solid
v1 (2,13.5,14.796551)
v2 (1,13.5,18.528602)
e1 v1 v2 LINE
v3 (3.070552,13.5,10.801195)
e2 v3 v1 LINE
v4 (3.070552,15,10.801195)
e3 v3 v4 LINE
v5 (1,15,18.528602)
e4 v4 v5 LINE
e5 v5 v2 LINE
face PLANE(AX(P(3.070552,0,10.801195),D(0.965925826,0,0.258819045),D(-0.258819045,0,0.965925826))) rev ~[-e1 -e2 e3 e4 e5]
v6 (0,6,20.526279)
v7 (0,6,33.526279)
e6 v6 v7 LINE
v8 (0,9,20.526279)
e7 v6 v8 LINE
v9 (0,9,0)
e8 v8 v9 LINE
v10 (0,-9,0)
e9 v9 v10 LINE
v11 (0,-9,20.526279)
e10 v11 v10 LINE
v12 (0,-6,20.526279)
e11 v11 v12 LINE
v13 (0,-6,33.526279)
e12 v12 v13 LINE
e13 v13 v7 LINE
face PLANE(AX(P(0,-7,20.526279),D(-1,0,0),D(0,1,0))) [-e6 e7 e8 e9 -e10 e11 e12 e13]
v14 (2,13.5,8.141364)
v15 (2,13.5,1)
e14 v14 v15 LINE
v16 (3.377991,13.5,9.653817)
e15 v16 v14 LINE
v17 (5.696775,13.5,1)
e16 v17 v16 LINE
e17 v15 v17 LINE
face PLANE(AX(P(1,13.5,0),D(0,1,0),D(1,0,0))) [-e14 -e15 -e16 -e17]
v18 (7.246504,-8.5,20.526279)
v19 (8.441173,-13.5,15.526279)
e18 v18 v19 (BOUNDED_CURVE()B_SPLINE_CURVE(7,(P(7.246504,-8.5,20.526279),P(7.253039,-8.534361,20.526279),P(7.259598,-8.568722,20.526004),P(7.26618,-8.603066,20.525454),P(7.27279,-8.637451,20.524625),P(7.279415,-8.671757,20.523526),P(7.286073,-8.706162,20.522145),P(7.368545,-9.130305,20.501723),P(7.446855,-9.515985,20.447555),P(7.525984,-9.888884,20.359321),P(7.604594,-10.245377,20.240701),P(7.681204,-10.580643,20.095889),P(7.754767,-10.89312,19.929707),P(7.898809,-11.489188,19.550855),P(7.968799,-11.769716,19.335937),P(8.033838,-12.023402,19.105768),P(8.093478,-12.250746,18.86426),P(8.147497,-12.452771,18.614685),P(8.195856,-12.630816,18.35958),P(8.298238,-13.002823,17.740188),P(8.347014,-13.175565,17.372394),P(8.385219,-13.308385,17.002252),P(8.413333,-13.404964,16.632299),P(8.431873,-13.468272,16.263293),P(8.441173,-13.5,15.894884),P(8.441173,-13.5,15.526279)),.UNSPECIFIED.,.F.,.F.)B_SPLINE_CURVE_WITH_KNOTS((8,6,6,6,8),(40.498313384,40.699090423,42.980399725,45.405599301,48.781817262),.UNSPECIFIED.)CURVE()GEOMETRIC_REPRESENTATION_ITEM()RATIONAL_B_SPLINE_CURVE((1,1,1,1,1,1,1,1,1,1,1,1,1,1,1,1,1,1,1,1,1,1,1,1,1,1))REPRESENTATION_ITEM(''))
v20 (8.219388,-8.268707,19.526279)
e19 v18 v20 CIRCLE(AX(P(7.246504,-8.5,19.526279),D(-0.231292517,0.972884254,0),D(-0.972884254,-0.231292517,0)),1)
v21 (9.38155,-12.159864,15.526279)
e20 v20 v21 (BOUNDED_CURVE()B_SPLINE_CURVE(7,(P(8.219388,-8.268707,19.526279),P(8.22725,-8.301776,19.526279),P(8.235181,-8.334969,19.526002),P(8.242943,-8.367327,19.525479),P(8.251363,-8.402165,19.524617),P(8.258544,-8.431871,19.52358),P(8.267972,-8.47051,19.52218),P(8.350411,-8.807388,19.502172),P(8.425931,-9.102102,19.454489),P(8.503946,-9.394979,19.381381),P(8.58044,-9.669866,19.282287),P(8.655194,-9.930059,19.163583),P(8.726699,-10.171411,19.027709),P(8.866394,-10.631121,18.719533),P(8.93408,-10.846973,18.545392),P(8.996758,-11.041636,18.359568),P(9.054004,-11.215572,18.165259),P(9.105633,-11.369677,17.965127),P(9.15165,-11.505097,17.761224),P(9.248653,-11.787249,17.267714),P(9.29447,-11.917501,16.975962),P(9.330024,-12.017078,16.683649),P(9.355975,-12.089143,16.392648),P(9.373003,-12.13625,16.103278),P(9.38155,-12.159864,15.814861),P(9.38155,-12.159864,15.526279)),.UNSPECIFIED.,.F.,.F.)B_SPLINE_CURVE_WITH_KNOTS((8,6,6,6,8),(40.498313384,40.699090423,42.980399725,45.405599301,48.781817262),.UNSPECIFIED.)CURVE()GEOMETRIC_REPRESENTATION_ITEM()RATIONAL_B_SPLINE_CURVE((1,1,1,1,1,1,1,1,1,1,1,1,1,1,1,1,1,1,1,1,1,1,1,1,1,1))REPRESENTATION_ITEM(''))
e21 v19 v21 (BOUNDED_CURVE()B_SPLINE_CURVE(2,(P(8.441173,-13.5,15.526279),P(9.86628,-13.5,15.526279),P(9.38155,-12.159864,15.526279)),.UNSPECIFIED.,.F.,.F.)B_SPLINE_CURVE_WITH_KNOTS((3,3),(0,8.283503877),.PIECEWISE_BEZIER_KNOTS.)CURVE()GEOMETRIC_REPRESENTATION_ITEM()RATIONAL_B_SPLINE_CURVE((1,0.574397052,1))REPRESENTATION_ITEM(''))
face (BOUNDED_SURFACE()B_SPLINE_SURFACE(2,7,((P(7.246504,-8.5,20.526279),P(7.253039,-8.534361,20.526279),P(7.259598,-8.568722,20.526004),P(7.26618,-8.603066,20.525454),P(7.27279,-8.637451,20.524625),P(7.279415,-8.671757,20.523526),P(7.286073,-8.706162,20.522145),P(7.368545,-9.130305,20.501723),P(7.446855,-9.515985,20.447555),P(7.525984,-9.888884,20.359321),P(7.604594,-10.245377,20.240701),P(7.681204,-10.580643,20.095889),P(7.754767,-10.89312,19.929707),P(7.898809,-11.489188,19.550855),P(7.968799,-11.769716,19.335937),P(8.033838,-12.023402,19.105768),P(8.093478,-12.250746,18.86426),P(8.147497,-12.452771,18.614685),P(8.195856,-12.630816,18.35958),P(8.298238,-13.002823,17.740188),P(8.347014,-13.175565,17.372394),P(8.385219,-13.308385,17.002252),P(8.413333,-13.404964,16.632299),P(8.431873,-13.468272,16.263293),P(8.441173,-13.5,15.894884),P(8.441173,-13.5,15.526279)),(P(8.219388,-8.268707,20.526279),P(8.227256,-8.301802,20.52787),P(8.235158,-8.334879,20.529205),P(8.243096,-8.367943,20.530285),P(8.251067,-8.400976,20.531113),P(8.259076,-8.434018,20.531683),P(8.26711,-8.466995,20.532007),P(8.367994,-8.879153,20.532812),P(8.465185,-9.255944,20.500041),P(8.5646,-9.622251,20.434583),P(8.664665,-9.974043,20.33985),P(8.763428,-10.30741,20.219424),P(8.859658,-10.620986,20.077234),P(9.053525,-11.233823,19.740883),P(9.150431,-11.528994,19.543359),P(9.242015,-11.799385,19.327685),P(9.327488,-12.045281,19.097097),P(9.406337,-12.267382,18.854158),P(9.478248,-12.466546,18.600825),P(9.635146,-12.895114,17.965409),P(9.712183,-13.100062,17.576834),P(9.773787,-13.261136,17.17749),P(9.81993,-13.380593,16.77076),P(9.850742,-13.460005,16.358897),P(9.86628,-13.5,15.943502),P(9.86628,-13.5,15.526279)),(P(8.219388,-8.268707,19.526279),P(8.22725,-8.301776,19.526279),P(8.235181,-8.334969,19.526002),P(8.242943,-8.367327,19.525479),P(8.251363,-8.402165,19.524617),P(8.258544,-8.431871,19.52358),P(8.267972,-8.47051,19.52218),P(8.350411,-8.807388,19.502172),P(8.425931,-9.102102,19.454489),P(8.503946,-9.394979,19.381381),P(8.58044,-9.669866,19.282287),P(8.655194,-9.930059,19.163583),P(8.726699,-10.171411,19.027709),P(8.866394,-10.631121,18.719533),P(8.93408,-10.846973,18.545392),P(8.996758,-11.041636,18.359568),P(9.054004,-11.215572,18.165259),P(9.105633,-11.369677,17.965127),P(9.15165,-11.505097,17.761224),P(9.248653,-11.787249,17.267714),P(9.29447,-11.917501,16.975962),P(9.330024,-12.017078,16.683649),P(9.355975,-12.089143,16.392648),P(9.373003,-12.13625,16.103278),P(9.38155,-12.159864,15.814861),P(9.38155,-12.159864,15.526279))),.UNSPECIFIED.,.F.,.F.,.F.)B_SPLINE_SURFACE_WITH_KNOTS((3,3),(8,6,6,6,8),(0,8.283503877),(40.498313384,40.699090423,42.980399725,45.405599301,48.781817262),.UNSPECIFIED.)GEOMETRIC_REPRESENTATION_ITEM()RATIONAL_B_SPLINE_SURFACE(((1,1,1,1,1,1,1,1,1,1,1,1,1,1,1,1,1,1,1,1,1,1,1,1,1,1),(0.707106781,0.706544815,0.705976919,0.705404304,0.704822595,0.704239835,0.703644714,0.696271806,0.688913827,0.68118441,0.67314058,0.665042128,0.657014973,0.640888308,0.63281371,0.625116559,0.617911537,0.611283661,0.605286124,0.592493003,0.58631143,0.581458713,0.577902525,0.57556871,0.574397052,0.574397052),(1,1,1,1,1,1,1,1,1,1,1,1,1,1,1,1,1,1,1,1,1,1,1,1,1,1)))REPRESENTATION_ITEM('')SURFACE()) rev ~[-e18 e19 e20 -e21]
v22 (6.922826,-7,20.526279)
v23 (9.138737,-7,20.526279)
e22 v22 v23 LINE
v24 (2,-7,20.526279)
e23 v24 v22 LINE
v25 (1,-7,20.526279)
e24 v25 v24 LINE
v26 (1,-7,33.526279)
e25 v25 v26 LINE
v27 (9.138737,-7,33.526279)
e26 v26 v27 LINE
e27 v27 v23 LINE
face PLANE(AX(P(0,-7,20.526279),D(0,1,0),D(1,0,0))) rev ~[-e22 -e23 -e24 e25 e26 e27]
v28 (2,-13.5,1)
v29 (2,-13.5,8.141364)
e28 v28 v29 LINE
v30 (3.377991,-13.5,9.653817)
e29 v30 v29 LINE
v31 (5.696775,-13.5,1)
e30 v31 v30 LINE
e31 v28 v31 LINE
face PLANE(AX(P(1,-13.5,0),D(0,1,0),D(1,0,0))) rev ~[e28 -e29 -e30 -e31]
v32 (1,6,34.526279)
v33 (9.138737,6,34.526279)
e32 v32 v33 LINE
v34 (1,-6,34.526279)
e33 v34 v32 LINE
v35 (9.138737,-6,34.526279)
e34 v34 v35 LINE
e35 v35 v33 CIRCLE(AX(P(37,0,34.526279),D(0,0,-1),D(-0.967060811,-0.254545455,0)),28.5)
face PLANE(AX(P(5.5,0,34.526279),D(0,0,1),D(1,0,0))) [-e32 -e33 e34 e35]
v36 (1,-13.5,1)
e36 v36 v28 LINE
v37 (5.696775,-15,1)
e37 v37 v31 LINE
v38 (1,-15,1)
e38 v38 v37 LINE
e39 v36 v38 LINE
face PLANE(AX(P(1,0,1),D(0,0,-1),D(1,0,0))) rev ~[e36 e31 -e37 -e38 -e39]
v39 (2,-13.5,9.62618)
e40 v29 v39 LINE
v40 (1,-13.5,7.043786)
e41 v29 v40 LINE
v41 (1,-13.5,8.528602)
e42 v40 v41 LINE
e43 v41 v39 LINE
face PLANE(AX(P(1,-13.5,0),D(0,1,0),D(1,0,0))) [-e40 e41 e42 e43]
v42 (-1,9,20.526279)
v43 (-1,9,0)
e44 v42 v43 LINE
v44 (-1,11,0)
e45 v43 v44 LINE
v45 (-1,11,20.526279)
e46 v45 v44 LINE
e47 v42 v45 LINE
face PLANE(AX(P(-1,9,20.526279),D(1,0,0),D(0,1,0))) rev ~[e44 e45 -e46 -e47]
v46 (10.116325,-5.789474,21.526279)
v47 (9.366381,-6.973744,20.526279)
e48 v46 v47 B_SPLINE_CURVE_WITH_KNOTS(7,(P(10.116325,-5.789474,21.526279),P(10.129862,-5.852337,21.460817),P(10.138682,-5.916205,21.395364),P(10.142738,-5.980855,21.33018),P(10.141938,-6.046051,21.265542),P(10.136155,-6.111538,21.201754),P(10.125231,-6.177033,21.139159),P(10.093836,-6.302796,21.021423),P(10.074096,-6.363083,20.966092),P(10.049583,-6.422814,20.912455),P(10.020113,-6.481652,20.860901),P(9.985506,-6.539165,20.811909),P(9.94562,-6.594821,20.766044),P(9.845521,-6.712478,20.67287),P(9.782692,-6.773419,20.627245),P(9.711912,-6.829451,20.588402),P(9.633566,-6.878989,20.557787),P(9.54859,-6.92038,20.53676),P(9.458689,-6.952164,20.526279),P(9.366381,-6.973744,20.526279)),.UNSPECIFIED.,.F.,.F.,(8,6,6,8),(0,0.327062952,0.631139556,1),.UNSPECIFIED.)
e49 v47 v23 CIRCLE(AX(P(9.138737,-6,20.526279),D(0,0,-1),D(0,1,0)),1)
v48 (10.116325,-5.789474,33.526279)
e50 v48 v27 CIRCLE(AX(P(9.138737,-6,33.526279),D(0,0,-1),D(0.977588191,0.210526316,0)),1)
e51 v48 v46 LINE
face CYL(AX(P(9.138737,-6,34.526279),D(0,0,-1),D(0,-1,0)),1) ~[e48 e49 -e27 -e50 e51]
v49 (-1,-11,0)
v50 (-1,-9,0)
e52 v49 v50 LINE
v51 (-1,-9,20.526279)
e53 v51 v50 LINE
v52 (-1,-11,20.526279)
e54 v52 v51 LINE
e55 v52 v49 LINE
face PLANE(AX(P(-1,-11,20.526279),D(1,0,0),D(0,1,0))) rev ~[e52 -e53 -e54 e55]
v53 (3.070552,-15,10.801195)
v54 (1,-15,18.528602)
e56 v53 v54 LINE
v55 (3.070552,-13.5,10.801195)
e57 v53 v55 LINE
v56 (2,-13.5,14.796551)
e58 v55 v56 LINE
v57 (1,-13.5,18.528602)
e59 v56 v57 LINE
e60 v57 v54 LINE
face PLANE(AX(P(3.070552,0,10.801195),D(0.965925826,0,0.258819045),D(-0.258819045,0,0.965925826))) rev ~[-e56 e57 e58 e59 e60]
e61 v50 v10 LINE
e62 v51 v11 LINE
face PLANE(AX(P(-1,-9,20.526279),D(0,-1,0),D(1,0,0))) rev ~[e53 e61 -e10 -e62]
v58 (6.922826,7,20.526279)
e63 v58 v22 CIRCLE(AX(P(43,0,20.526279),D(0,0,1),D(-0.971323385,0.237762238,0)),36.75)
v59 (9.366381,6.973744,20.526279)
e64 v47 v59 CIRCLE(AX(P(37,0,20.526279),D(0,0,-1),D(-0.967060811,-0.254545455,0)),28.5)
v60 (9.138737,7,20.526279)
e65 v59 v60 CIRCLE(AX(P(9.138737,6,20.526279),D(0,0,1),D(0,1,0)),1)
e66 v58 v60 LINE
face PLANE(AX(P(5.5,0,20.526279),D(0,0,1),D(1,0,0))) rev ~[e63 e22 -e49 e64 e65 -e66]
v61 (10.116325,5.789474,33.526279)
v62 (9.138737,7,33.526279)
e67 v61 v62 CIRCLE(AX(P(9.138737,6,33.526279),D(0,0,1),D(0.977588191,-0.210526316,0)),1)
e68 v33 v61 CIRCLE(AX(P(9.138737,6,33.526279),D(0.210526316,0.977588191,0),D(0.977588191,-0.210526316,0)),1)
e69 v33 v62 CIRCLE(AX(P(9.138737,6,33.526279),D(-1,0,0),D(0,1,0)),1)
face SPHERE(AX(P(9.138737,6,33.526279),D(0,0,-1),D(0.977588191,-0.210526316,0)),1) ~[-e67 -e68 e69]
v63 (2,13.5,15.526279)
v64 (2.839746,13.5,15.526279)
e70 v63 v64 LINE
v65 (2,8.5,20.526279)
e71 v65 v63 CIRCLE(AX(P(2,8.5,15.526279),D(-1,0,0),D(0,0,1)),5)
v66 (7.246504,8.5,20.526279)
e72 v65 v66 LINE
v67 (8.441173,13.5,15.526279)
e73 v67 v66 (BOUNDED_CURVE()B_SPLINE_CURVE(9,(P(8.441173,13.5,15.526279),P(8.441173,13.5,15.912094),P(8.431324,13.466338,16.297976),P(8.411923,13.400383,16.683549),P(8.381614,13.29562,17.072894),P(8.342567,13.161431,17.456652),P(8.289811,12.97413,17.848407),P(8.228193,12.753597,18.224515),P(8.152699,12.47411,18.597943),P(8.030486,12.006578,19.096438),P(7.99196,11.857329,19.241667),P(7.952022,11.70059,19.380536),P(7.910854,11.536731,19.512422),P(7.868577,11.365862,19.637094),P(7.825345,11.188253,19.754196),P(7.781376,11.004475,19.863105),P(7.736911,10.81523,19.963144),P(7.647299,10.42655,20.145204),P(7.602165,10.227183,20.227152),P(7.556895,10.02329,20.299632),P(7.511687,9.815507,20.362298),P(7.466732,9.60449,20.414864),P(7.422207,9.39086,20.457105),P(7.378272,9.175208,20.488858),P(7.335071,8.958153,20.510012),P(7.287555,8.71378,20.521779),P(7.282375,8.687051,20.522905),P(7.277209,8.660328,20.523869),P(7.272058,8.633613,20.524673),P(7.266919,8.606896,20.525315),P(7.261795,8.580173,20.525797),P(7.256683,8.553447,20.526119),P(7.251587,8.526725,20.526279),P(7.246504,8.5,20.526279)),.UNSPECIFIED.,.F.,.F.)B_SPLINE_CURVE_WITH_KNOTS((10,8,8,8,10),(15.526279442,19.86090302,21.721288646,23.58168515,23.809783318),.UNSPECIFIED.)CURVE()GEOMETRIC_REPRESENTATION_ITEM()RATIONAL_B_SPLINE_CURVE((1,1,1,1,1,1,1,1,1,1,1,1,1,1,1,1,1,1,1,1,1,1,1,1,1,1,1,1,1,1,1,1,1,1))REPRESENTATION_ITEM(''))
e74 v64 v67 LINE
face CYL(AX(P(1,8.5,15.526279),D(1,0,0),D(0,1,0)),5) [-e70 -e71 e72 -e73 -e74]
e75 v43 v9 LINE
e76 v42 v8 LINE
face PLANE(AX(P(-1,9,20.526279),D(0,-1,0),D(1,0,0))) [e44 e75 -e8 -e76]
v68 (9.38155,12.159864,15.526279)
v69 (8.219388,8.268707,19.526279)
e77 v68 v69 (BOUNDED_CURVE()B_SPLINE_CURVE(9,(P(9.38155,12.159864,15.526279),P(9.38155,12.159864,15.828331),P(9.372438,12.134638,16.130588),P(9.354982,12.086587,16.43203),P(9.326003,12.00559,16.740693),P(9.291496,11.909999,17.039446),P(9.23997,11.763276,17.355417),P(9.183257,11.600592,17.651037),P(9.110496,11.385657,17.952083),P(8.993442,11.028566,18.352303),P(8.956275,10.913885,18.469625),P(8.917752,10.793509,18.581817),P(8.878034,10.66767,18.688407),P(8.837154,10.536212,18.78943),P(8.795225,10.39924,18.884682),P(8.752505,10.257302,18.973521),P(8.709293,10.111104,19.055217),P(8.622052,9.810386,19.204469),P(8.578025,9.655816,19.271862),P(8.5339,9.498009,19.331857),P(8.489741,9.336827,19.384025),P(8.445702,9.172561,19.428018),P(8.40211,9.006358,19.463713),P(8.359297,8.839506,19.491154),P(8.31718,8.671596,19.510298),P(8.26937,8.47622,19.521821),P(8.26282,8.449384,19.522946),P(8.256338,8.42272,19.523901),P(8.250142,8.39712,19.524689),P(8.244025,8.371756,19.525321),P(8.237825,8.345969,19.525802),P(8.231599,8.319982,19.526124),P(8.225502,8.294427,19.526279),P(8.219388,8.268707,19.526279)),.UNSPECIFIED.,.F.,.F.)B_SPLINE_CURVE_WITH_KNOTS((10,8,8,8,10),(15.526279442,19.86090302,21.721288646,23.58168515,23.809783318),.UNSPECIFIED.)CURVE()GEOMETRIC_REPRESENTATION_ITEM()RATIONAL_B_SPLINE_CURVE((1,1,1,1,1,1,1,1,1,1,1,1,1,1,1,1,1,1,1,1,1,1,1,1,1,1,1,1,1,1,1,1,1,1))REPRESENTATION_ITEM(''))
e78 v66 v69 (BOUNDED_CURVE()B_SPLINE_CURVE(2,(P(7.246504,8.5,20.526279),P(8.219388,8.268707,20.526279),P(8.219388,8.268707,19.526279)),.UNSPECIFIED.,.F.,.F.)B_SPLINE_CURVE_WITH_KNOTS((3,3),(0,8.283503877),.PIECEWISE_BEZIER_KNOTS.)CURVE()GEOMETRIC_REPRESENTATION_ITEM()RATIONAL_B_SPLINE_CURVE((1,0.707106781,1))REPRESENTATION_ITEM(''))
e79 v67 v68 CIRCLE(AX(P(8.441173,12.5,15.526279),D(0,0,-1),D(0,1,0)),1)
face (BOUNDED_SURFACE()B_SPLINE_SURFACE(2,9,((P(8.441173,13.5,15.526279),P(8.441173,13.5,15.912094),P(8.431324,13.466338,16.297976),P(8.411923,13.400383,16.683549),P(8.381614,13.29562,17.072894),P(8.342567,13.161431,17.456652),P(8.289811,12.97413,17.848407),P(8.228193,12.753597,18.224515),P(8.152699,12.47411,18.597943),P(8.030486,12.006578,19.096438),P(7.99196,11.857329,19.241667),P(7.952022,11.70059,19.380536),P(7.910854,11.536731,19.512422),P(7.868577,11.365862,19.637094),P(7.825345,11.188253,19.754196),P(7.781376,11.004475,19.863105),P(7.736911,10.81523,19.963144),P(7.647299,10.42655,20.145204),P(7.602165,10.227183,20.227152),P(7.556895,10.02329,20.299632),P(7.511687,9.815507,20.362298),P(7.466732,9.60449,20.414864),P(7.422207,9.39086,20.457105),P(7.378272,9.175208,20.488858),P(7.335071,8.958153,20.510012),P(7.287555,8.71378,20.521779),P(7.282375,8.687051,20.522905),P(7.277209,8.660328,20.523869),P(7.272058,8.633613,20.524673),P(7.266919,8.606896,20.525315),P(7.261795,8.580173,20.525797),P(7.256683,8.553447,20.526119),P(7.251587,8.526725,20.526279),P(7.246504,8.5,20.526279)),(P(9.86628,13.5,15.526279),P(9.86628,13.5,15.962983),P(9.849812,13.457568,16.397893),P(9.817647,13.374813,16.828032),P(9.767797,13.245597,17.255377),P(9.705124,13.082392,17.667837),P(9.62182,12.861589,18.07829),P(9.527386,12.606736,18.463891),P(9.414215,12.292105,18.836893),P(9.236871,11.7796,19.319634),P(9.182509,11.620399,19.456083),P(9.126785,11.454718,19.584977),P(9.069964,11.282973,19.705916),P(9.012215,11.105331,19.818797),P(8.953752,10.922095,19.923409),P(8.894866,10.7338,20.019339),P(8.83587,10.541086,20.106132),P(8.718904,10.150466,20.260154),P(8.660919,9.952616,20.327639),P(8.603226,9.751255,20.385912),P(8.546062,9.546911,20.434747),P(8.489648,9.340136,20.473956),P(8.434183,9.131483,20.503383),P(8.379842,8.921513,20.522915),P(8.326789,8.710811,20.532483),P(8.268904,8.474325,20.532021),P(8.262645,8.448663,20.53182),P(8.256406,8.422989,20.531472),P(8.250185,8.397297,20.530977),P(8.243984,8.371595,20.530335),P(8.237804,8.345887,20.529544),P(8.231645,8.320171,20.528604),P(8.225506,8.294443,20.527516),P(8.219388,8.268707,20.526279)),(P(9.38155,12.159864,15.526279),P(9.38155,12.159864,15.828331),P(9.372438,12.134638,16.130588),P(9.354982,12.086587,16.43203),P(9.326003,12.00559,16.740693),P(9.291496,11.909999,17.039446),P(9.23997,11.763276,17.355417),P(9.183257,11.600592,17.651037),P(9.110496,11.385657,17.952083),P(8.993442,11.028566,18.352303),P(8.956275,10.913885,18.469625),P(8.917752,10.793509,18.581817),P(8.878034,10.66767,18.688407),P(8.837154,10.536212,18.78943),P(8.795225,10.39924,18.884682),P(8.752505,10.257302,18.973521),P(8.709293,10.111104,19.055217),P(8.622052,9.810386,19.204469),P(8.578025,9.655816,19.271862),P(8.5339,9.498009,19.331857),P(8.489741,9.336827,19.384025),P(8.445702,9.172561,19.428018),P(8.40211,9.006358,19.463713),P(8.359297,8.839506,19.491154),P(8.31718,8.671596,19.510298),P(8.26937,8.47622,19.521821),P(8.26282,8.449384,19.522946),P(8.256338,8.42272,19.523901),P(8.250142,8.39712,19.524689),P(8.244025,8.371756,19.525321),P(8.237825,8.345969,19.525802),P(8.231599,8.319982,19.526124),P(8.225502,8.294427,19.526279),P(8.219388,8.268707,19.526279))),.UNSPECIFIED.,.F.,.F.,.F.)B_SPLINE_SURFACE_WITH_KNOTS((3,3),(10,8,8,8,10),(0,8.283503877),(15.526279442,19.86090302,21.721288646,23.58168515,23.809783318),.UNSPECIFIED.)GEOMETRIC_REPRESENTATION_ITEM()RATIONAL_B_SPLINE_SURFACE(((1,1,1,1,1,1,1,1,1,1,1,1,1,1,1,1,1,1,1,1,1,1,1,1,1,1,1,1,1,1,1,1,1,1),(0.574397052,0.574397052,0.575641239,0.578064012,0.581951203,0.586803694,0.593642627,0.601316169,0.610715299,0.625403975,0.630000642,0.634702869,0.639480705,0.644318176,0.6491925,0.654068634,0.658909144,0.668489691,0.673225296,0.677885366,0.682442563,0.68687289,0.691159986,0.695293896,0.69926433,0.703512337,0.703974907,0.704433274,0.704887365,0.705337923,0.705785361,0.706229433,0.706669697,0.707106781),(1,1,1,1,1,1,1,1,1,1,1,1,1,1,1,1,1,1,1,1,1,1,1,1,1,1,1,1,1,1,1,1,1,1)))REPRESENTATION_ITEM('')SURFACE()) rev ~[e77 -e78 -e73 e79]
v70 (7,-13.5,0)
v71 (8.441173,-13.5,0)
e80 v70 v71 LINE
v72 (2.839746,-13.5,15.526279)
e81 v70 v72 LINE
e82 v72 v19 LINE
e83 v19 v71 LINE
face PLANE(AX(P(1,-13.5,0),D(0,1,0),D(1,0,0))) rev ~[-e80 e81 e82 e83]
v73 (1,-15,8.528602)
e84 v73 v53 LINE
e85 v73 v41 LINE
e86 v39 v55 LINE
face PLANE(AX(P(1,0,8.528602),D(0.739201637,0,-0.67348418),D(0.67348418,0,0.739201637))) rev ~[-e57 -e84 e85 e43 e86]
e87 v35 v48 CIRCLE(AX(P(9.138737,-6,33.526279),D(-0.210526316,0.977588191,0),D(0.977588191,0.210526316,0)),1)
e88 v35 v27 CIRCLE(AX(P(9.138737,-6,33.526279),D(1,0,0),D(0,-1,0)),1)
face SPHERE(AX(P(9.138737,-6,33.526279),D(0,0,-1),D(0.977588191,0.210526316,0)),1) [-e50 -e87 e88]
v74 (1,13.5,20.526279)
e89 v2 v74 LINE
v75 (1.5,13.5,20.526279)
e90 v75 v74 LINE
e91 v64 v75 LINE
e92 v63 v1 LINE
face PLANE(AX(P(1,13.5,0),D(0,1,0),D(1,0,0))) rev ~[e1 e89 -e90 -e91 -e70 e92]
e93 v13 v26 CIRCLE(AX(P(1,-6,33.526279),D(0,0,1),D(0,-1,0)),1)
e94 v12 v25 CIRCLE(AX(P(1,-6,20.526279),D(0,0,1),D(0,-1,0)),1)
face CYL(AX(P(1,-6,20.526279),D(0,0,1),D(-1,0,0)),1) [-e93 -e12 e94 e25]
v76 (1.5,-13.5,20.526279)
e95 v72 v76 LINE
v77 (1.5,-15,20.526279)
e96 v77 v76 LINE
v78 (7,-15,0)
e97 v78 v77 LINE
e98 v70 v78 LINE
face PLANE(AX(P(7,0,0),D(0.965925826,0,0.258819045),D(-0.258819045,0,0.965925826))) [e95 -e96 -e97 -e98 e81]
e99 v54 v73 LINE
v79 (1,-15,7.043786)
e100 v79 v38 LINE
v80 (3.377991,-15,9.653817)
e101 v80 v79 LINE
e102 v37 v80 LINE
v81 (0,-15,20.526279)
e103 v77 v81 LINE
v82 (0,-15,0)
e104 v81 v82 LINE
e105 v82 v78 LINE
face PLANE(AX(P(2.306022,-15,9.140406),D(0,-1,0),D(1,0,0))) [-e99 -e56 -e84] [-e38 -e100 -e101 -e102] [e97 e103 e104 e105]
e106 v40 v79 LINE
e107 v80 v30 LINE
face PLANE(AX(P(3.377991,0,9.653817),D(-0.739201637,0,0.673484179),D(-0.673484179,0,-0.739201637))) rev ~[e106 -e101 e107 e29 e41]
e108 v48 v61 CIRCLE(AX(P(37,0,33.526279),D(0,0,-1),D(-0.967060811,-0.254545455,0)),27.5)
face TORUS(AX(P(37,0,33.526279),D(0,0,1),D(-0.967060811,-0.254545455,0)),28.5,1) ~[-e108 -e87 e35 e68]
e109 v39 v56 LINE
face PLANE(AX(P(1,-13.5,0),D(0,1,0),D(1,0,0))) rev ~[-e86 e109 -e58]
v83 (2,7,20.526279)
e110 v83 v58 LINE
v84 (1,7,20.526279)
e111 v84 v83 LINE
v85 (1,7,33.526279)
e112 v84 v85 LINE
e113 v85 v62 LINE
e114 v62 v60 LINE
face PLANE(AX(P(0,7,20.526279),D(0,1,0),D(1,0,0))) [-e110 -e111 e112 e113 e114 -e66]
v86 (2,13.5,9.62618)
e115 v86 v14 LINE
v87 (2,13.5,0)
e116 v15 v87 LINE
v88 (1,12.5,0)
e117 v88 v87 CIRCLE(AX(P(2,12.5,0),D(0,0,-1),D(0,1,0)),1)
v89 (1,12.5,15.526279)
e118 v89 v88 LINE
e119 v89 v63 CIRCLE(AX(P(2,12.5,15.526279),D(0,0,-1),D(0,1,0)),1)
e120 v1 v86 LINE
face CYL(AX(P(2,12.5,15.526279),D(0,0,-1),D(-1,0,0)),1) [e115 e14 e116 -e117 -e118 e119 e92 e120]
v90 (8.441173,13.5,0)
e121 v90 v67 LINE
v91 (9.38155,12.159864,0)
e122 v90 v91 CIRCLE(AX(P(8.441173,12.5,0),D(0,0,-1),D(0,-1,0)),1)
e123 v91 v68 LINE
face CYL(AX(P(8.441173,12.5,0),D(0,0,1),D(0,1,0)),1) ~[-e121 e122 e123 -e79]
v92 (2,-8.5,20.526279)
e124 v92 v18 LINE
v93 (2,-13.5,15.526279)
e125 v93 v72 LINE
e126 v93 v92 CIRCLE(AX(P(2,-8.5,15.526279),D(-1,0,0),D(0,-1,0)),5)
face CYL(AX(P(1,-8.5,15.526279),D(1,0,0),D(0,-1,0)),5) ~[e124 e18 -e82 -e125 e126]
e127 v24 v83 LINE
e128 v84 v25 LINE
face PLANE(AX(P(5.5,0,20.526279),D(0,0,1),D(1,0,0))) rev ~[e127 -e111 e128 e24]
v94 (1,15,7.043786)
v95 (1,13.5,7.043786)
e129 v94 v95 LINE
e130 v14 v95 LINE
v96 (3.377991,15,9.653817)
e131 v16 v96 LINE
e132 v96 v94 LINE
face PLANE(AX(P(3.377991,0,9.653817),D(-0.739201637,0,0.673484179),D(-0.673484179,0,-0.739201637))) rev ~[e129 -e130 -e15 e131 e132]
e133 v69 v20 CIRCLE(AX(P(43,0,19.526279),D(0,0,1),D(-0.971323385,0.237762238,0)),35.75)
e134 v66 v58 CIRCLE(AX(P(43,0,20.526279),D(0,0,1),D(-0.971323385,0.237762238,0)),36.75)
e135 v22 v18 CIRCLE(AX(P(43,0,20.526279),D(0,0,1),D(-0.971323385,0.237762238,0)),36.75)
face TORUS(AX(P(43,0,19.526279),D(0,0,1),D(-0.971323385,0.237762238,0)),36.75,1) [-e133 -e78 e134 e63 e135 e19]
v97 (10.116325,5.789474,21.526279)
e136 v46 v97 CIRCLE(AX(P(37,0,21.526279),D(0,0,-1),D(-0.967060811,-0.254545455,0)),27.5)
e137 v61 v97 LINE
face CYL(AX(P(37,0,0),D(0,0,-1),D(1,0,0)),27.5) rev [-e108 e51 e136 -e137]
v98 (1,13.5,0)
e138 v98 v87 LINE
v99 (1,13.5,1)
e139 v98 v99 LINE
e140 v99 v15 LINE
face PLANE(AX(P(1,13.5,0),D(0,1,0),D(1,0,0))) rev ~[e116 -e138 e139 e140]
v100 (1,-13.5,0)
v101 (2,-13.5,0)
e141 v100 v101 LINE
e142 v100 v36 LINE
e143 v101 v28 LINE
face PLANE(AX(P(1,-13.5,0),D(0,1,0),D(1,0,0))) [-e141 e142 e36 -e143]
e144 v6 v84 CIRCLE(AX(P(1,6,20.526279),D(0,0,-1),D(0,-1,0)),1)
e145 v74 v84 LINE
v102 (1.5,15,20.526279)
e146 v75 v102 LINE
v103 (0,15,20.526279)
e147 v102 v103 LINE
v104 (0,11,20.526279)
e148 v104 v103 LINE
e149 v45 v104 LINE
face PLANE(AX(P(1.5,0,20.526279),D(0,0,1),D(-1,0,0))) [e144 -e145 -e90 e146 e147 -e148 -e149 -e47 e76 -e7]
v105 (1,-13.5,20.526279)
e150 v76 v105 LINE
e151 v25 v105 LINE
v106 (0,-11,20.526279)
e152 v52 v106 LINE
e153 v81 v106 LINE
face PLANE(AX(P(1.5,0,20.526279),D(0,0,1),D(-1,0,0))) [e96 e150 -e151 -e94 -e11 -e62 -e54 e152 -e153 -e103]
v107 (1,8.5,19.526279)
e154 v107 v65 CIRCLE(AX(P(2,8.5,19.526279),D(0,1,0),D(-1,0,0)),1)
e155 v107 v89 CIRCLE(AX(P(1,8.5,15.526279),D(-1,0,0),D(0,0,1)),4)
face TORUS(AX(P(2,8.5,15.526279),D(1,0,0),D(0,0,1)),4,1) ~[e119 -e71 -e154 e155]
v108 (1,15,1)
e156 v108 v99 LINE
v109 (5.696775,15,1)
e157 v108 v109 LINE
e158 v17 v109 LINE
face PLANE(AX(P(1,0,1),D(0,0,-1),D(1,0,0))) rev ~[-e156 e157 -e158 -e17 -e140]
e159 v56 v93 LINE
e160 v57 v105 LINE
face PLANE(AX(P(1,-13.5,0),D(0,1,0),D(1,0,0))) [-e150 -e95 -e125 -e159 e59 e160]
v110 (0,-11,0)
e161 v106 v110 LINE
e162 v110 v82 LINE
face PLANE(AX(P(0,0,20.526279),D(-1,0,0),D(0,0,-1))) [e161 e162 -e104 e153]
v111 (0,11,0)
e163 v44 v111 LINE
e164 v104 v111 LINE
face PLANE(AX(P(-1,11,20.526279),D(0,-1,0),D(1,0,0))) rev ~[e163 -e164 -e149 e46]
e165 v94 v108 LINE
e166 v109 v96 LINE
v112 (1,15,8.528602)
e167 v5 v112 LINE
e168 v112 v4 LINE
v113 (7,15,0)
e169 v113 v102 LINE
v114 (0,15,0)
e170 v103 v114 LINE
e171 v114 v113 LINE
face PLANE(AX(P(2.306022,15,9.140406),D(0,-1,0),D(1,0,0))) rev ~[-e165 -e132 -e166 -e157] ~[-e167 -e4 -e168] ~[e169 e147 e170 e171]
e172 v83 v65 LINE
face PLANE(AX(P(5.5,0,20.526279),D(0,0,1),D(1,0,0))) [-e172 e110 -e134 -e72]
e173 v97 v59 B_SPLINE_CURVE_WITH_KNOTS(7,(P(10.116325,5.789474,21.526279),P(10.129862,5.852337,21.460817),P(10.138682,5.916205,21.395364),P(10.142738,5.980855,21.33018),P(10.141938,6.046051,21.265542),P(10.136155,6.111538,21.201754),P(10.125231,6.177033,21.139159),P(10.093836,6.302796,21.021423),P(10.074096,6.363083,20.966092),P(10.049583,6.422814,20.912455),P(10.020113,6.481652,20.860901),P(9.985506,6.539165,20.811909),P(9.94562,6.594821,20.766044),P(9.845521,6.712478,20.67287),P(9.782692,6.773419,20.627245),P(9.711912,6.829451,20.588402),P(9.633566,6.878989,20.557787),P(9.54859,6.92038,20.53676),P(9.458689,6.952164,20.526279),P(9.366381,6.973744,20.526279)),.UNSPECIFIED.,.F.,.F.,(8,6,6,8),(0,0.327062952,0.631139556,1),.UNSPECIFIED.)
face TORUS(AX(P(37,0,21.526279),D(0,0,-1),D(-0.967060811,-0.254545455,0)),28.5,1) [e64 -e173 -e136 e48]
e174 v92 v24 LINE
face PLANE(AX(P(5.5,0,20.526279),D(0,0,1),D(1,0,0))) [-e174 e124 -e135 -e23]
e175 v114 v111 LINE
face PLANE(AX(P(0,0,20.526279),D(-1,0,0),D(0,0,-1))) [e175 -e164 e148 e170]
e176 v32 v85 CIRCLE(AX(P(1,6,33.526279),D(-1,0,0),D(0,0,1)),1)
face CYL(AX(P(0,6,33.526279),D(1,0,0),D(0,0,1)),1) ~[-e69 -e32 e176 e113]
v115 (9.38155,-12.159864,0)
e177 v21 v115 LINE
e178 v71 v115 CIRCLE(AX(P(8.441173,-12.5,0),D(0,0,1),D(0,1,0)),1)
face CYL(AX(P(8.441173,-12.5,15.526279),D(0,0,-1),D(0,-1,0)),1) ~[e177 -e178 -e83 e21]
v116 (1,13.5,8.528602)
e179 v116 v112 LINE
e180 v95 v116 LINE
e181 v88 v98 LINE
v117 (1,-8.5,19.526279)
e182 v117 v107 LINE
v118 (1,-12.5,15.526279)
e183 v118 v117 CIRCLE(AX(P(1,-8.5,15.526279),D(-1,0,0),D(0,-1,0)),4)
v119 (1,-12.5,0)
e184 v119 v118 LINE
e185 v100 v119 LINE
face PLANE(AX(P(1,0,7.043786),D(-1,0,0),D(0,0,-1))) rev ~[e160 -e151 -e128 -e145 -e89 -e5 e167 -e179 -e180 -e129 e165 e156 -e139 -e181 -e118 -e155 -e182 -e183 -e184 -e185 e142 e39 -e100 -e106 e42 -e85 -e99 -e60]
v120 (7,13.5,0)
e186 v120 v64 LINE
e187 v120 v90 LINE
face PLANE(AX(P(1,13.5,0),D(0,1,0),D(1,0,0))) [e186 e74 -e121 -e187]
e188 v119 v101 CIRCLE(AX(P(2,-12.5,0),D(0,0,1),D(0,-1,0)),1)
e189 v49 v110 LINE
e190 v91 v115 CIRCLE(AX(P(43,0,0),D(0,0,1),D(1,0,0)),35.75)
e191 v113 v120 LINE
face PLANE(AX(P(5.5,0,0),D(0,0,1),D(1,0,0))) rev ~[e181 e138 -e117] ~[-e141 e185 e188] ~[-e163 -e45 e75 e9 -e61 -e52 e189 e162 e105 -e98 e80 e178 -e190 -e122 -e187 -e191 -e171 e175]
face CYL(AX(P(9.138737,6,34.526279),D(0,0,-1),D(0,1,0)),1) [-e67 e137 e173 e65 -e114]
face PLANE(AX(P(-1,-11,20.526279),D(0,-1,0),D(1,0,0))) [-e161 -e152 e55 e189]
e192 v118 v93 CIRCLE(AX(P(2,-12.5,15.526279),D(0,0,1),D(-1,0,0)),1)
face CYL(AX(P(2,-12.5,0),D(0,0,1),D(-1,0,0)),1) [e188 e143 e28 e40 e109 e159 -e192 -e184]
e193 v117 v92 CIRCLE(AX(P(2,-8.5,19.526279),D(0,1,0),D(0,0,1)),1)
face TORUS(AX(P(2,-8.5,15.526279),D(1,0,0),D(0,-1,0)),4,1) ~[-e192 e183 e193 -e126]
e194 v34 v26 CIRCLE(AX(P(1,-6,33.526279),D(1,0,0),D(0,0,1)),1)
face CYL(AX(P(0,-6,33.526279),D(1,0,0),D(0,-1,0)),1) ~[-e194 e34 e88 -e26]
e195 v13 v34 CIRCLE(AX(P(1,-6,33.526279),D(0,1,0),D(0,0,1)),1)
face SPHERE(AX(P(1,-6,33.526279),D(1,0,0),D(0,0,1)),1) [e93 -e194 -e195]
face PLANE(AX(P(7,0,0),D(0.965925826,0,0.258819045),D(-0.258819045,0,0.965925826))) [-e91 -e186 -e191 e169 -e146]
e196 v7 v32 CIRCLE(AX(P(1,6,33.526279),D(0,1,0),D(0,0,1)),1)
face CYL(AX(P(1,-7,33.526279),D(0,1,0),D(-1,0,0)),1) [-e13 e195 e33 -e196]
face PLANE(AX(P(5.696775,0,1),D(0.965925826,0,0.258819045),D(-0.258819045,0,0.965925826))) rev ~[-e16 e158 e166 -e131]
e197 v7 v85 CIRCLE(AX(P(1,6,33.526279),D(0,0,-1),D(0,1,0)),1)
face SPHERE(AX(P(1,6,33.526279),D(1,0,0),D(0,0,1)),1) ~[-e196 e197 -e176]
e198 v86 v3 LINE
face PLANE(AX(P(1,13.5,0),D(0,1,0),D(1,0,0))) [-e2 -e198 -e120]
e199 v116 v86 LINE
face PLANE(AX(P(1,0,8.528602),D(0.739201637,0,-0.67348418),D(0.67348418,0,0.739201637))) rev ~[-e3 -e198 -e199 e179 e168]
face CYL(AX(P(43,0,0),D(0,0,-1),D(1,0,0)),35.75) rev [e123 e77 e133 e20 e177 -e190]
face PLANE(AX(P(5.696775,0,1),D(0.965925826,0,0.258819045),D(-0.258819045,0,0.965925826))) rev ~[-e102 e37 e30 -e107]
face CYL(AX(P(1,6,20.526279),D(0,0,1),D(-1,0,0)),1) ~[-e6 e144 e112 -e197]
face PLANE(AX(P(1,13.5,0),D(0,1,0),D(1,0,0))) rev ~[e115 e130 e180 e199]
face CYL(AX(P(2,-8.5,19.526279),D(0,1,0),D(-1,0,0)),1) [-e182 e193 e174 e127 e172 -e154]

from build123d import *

# Parameters (mm, degrees)
F1_DEPTH  = 15
F2_W      = 7
F2_H      = 27
F3_DEPTH  = 25
F6_DEPTH  = 20
F8_W      = 1
F8_H      = 2
F9_DEPTH  = 20.5262794416
F10_W     = 9
F10_H     = 27
F11_DEPTH = 20.5262794416
F12_R     = 35.75
F13_DEPTH = 30
F15_R     = 5
F16_R     = 1
F17_W     = 11
F17_H     = 14
F18_DEPTH = 14
F19_R     = 27.5
F20_DEPTH = 60
F22_R     = 1


with BuildPart() as f1:
    # F0 (on Front) → F1 (new body, symmetric)
    with BuildSketch(Plane.XZ):
        Polygon((0, 20.5262794416), (0, 0), (7, 0), (1.5, 20.5262794416), align=None)
    extrude(amount=F1_DEPTH, both=True)


with BuildPart() as f3:
    # F2 (on Top) → F3 (new body)
    with BuildSketch(Plane.XY):
        with Locations((4.5, 0)):
            Rectangle(F2_W, F2_H)
    extrude(amount=F3_DEPTH)


with BuildPart() as f6:
    # F4 (on Front) → F6 (new body, symmetric)
    with BuildSketch(Plane.XZ):
        Polygon((3.0705523608, 10.8011949299), (1, 18.5286015403), (1, 8.5286015403), align=None)
    extrude(amount=F6_DEPTH, both=True)


with BuildPart() as f6b:
    # F5 (on Front) → F6, piece 2 (new body, symmetric)
    with BuildSketch(Plane.XZ):
        Polygon((3.377991262, 9.6538173306), (1, 7.0437856671), (1, 1), (5.6967746272, 1), align=None)
    extrude(amount=F6_DEPTH, both=True)


with BuildPart() as f1_1:
    add(f1.part)

    # F7: cut F6b, F6, F3
    add(f6b.part, mode=Mode.SUBTRACT)
    add(f6.part, mode=Mode.SUBTRACT)
    add(f3.part, mode=Mode.SUBTRACT)

    # F8 (on face) → F9 (join, through all)
    with BuildSketch(Plane.XY.offset(20.5262794416)):
        with Locations((-0.5, -10)):
            Rectangle(F8_W, F8_H)
        with Locations((-0.5, 10)):
            Rectangle(F8_W, F8_H)
    extrude(amount=-F9_DEPTH)



with BuildPart() as f11:
    # F10 (on Top) → F11 (new body, through all)
    with BuildSketch(Plane.XY):
        with Locations((5.5, 0)):
            Rectangle(F10_W, F10_H)
    extrude(amount=F11_DEPTH)


with BuildPart() as f13:
    # F12 (on Top) → F13 (new body)
    with BuildSketch(Plane.XY):
        with Locations((43, 0)):
            Circle(F12_R)
    extrude(amount=F13_DEPTH)


with BuildPart() as f11_1:
    add(f11.part)

    # F14: cut F13
    add(f13.part, mode=Mode.SUBTRACT)

    # F15
    f15_edges = [f11_1.edges().sort_by_distance(p)[0] for p in [
        (5.448471, -13.5, 20.526279),
        (5.448471, 13.5, 20.526279),
    ]]
    fillet(f15_edges, radius=F15_R)

    # F16
    f16_edges = [f11_1.edges().sort_by_distance(p)[0] for p in [
        (9.896941, -13.5, 7.76314),
        (1, -13.5, 7.76314),
    ]]
    fillet(f16_edges, radius=F16_R)


with BuildPart() as f1_2:
    add(f1_1.part)

    add(f11_1.part)  # F18 merges F11
    # F17 (on face) → F18 (join)
    with BuildSketch(Plane.XY.offset(20.5262794416)):
        with Locations((5.5, 0)):
            Rectangle(F17_W, F17_H)
    extrude(amount=F18_DEPTH)


with BuildPart() as f20:
    # F19 (on Top) → F20 (new body)
    with BuildSketch(Plane.XY):
        with Locations((37, 0)):
            Circle(F19_R)
    extrude(amount=F20_DEPTH)


with BuildPart() as f1_3:
    add(f1_2.part)

    # F21: cut F20
    add(f20.part, mode=Mode.SUBTRACT)

    # F22
    f22_edges = [f1_3.edges().sort_by_distance(p)[0] for p in [
        (10.405828, 7, 27.526279),
        (9.5, 0, 20.526279),
        (10.405828, -7, 27.526279),
        (9.5, 0, 34.526279),
        (5.202914, 7, 34.526279),
        (5.202914, -7, 34.526279),
        (0, 0, 34.526279),
        (0, 7, 27.526279),
        (0, -7, 27.526279),
    ]]
    fillet(f22_edges, radius=F22_R)


solid = f1_3.part
